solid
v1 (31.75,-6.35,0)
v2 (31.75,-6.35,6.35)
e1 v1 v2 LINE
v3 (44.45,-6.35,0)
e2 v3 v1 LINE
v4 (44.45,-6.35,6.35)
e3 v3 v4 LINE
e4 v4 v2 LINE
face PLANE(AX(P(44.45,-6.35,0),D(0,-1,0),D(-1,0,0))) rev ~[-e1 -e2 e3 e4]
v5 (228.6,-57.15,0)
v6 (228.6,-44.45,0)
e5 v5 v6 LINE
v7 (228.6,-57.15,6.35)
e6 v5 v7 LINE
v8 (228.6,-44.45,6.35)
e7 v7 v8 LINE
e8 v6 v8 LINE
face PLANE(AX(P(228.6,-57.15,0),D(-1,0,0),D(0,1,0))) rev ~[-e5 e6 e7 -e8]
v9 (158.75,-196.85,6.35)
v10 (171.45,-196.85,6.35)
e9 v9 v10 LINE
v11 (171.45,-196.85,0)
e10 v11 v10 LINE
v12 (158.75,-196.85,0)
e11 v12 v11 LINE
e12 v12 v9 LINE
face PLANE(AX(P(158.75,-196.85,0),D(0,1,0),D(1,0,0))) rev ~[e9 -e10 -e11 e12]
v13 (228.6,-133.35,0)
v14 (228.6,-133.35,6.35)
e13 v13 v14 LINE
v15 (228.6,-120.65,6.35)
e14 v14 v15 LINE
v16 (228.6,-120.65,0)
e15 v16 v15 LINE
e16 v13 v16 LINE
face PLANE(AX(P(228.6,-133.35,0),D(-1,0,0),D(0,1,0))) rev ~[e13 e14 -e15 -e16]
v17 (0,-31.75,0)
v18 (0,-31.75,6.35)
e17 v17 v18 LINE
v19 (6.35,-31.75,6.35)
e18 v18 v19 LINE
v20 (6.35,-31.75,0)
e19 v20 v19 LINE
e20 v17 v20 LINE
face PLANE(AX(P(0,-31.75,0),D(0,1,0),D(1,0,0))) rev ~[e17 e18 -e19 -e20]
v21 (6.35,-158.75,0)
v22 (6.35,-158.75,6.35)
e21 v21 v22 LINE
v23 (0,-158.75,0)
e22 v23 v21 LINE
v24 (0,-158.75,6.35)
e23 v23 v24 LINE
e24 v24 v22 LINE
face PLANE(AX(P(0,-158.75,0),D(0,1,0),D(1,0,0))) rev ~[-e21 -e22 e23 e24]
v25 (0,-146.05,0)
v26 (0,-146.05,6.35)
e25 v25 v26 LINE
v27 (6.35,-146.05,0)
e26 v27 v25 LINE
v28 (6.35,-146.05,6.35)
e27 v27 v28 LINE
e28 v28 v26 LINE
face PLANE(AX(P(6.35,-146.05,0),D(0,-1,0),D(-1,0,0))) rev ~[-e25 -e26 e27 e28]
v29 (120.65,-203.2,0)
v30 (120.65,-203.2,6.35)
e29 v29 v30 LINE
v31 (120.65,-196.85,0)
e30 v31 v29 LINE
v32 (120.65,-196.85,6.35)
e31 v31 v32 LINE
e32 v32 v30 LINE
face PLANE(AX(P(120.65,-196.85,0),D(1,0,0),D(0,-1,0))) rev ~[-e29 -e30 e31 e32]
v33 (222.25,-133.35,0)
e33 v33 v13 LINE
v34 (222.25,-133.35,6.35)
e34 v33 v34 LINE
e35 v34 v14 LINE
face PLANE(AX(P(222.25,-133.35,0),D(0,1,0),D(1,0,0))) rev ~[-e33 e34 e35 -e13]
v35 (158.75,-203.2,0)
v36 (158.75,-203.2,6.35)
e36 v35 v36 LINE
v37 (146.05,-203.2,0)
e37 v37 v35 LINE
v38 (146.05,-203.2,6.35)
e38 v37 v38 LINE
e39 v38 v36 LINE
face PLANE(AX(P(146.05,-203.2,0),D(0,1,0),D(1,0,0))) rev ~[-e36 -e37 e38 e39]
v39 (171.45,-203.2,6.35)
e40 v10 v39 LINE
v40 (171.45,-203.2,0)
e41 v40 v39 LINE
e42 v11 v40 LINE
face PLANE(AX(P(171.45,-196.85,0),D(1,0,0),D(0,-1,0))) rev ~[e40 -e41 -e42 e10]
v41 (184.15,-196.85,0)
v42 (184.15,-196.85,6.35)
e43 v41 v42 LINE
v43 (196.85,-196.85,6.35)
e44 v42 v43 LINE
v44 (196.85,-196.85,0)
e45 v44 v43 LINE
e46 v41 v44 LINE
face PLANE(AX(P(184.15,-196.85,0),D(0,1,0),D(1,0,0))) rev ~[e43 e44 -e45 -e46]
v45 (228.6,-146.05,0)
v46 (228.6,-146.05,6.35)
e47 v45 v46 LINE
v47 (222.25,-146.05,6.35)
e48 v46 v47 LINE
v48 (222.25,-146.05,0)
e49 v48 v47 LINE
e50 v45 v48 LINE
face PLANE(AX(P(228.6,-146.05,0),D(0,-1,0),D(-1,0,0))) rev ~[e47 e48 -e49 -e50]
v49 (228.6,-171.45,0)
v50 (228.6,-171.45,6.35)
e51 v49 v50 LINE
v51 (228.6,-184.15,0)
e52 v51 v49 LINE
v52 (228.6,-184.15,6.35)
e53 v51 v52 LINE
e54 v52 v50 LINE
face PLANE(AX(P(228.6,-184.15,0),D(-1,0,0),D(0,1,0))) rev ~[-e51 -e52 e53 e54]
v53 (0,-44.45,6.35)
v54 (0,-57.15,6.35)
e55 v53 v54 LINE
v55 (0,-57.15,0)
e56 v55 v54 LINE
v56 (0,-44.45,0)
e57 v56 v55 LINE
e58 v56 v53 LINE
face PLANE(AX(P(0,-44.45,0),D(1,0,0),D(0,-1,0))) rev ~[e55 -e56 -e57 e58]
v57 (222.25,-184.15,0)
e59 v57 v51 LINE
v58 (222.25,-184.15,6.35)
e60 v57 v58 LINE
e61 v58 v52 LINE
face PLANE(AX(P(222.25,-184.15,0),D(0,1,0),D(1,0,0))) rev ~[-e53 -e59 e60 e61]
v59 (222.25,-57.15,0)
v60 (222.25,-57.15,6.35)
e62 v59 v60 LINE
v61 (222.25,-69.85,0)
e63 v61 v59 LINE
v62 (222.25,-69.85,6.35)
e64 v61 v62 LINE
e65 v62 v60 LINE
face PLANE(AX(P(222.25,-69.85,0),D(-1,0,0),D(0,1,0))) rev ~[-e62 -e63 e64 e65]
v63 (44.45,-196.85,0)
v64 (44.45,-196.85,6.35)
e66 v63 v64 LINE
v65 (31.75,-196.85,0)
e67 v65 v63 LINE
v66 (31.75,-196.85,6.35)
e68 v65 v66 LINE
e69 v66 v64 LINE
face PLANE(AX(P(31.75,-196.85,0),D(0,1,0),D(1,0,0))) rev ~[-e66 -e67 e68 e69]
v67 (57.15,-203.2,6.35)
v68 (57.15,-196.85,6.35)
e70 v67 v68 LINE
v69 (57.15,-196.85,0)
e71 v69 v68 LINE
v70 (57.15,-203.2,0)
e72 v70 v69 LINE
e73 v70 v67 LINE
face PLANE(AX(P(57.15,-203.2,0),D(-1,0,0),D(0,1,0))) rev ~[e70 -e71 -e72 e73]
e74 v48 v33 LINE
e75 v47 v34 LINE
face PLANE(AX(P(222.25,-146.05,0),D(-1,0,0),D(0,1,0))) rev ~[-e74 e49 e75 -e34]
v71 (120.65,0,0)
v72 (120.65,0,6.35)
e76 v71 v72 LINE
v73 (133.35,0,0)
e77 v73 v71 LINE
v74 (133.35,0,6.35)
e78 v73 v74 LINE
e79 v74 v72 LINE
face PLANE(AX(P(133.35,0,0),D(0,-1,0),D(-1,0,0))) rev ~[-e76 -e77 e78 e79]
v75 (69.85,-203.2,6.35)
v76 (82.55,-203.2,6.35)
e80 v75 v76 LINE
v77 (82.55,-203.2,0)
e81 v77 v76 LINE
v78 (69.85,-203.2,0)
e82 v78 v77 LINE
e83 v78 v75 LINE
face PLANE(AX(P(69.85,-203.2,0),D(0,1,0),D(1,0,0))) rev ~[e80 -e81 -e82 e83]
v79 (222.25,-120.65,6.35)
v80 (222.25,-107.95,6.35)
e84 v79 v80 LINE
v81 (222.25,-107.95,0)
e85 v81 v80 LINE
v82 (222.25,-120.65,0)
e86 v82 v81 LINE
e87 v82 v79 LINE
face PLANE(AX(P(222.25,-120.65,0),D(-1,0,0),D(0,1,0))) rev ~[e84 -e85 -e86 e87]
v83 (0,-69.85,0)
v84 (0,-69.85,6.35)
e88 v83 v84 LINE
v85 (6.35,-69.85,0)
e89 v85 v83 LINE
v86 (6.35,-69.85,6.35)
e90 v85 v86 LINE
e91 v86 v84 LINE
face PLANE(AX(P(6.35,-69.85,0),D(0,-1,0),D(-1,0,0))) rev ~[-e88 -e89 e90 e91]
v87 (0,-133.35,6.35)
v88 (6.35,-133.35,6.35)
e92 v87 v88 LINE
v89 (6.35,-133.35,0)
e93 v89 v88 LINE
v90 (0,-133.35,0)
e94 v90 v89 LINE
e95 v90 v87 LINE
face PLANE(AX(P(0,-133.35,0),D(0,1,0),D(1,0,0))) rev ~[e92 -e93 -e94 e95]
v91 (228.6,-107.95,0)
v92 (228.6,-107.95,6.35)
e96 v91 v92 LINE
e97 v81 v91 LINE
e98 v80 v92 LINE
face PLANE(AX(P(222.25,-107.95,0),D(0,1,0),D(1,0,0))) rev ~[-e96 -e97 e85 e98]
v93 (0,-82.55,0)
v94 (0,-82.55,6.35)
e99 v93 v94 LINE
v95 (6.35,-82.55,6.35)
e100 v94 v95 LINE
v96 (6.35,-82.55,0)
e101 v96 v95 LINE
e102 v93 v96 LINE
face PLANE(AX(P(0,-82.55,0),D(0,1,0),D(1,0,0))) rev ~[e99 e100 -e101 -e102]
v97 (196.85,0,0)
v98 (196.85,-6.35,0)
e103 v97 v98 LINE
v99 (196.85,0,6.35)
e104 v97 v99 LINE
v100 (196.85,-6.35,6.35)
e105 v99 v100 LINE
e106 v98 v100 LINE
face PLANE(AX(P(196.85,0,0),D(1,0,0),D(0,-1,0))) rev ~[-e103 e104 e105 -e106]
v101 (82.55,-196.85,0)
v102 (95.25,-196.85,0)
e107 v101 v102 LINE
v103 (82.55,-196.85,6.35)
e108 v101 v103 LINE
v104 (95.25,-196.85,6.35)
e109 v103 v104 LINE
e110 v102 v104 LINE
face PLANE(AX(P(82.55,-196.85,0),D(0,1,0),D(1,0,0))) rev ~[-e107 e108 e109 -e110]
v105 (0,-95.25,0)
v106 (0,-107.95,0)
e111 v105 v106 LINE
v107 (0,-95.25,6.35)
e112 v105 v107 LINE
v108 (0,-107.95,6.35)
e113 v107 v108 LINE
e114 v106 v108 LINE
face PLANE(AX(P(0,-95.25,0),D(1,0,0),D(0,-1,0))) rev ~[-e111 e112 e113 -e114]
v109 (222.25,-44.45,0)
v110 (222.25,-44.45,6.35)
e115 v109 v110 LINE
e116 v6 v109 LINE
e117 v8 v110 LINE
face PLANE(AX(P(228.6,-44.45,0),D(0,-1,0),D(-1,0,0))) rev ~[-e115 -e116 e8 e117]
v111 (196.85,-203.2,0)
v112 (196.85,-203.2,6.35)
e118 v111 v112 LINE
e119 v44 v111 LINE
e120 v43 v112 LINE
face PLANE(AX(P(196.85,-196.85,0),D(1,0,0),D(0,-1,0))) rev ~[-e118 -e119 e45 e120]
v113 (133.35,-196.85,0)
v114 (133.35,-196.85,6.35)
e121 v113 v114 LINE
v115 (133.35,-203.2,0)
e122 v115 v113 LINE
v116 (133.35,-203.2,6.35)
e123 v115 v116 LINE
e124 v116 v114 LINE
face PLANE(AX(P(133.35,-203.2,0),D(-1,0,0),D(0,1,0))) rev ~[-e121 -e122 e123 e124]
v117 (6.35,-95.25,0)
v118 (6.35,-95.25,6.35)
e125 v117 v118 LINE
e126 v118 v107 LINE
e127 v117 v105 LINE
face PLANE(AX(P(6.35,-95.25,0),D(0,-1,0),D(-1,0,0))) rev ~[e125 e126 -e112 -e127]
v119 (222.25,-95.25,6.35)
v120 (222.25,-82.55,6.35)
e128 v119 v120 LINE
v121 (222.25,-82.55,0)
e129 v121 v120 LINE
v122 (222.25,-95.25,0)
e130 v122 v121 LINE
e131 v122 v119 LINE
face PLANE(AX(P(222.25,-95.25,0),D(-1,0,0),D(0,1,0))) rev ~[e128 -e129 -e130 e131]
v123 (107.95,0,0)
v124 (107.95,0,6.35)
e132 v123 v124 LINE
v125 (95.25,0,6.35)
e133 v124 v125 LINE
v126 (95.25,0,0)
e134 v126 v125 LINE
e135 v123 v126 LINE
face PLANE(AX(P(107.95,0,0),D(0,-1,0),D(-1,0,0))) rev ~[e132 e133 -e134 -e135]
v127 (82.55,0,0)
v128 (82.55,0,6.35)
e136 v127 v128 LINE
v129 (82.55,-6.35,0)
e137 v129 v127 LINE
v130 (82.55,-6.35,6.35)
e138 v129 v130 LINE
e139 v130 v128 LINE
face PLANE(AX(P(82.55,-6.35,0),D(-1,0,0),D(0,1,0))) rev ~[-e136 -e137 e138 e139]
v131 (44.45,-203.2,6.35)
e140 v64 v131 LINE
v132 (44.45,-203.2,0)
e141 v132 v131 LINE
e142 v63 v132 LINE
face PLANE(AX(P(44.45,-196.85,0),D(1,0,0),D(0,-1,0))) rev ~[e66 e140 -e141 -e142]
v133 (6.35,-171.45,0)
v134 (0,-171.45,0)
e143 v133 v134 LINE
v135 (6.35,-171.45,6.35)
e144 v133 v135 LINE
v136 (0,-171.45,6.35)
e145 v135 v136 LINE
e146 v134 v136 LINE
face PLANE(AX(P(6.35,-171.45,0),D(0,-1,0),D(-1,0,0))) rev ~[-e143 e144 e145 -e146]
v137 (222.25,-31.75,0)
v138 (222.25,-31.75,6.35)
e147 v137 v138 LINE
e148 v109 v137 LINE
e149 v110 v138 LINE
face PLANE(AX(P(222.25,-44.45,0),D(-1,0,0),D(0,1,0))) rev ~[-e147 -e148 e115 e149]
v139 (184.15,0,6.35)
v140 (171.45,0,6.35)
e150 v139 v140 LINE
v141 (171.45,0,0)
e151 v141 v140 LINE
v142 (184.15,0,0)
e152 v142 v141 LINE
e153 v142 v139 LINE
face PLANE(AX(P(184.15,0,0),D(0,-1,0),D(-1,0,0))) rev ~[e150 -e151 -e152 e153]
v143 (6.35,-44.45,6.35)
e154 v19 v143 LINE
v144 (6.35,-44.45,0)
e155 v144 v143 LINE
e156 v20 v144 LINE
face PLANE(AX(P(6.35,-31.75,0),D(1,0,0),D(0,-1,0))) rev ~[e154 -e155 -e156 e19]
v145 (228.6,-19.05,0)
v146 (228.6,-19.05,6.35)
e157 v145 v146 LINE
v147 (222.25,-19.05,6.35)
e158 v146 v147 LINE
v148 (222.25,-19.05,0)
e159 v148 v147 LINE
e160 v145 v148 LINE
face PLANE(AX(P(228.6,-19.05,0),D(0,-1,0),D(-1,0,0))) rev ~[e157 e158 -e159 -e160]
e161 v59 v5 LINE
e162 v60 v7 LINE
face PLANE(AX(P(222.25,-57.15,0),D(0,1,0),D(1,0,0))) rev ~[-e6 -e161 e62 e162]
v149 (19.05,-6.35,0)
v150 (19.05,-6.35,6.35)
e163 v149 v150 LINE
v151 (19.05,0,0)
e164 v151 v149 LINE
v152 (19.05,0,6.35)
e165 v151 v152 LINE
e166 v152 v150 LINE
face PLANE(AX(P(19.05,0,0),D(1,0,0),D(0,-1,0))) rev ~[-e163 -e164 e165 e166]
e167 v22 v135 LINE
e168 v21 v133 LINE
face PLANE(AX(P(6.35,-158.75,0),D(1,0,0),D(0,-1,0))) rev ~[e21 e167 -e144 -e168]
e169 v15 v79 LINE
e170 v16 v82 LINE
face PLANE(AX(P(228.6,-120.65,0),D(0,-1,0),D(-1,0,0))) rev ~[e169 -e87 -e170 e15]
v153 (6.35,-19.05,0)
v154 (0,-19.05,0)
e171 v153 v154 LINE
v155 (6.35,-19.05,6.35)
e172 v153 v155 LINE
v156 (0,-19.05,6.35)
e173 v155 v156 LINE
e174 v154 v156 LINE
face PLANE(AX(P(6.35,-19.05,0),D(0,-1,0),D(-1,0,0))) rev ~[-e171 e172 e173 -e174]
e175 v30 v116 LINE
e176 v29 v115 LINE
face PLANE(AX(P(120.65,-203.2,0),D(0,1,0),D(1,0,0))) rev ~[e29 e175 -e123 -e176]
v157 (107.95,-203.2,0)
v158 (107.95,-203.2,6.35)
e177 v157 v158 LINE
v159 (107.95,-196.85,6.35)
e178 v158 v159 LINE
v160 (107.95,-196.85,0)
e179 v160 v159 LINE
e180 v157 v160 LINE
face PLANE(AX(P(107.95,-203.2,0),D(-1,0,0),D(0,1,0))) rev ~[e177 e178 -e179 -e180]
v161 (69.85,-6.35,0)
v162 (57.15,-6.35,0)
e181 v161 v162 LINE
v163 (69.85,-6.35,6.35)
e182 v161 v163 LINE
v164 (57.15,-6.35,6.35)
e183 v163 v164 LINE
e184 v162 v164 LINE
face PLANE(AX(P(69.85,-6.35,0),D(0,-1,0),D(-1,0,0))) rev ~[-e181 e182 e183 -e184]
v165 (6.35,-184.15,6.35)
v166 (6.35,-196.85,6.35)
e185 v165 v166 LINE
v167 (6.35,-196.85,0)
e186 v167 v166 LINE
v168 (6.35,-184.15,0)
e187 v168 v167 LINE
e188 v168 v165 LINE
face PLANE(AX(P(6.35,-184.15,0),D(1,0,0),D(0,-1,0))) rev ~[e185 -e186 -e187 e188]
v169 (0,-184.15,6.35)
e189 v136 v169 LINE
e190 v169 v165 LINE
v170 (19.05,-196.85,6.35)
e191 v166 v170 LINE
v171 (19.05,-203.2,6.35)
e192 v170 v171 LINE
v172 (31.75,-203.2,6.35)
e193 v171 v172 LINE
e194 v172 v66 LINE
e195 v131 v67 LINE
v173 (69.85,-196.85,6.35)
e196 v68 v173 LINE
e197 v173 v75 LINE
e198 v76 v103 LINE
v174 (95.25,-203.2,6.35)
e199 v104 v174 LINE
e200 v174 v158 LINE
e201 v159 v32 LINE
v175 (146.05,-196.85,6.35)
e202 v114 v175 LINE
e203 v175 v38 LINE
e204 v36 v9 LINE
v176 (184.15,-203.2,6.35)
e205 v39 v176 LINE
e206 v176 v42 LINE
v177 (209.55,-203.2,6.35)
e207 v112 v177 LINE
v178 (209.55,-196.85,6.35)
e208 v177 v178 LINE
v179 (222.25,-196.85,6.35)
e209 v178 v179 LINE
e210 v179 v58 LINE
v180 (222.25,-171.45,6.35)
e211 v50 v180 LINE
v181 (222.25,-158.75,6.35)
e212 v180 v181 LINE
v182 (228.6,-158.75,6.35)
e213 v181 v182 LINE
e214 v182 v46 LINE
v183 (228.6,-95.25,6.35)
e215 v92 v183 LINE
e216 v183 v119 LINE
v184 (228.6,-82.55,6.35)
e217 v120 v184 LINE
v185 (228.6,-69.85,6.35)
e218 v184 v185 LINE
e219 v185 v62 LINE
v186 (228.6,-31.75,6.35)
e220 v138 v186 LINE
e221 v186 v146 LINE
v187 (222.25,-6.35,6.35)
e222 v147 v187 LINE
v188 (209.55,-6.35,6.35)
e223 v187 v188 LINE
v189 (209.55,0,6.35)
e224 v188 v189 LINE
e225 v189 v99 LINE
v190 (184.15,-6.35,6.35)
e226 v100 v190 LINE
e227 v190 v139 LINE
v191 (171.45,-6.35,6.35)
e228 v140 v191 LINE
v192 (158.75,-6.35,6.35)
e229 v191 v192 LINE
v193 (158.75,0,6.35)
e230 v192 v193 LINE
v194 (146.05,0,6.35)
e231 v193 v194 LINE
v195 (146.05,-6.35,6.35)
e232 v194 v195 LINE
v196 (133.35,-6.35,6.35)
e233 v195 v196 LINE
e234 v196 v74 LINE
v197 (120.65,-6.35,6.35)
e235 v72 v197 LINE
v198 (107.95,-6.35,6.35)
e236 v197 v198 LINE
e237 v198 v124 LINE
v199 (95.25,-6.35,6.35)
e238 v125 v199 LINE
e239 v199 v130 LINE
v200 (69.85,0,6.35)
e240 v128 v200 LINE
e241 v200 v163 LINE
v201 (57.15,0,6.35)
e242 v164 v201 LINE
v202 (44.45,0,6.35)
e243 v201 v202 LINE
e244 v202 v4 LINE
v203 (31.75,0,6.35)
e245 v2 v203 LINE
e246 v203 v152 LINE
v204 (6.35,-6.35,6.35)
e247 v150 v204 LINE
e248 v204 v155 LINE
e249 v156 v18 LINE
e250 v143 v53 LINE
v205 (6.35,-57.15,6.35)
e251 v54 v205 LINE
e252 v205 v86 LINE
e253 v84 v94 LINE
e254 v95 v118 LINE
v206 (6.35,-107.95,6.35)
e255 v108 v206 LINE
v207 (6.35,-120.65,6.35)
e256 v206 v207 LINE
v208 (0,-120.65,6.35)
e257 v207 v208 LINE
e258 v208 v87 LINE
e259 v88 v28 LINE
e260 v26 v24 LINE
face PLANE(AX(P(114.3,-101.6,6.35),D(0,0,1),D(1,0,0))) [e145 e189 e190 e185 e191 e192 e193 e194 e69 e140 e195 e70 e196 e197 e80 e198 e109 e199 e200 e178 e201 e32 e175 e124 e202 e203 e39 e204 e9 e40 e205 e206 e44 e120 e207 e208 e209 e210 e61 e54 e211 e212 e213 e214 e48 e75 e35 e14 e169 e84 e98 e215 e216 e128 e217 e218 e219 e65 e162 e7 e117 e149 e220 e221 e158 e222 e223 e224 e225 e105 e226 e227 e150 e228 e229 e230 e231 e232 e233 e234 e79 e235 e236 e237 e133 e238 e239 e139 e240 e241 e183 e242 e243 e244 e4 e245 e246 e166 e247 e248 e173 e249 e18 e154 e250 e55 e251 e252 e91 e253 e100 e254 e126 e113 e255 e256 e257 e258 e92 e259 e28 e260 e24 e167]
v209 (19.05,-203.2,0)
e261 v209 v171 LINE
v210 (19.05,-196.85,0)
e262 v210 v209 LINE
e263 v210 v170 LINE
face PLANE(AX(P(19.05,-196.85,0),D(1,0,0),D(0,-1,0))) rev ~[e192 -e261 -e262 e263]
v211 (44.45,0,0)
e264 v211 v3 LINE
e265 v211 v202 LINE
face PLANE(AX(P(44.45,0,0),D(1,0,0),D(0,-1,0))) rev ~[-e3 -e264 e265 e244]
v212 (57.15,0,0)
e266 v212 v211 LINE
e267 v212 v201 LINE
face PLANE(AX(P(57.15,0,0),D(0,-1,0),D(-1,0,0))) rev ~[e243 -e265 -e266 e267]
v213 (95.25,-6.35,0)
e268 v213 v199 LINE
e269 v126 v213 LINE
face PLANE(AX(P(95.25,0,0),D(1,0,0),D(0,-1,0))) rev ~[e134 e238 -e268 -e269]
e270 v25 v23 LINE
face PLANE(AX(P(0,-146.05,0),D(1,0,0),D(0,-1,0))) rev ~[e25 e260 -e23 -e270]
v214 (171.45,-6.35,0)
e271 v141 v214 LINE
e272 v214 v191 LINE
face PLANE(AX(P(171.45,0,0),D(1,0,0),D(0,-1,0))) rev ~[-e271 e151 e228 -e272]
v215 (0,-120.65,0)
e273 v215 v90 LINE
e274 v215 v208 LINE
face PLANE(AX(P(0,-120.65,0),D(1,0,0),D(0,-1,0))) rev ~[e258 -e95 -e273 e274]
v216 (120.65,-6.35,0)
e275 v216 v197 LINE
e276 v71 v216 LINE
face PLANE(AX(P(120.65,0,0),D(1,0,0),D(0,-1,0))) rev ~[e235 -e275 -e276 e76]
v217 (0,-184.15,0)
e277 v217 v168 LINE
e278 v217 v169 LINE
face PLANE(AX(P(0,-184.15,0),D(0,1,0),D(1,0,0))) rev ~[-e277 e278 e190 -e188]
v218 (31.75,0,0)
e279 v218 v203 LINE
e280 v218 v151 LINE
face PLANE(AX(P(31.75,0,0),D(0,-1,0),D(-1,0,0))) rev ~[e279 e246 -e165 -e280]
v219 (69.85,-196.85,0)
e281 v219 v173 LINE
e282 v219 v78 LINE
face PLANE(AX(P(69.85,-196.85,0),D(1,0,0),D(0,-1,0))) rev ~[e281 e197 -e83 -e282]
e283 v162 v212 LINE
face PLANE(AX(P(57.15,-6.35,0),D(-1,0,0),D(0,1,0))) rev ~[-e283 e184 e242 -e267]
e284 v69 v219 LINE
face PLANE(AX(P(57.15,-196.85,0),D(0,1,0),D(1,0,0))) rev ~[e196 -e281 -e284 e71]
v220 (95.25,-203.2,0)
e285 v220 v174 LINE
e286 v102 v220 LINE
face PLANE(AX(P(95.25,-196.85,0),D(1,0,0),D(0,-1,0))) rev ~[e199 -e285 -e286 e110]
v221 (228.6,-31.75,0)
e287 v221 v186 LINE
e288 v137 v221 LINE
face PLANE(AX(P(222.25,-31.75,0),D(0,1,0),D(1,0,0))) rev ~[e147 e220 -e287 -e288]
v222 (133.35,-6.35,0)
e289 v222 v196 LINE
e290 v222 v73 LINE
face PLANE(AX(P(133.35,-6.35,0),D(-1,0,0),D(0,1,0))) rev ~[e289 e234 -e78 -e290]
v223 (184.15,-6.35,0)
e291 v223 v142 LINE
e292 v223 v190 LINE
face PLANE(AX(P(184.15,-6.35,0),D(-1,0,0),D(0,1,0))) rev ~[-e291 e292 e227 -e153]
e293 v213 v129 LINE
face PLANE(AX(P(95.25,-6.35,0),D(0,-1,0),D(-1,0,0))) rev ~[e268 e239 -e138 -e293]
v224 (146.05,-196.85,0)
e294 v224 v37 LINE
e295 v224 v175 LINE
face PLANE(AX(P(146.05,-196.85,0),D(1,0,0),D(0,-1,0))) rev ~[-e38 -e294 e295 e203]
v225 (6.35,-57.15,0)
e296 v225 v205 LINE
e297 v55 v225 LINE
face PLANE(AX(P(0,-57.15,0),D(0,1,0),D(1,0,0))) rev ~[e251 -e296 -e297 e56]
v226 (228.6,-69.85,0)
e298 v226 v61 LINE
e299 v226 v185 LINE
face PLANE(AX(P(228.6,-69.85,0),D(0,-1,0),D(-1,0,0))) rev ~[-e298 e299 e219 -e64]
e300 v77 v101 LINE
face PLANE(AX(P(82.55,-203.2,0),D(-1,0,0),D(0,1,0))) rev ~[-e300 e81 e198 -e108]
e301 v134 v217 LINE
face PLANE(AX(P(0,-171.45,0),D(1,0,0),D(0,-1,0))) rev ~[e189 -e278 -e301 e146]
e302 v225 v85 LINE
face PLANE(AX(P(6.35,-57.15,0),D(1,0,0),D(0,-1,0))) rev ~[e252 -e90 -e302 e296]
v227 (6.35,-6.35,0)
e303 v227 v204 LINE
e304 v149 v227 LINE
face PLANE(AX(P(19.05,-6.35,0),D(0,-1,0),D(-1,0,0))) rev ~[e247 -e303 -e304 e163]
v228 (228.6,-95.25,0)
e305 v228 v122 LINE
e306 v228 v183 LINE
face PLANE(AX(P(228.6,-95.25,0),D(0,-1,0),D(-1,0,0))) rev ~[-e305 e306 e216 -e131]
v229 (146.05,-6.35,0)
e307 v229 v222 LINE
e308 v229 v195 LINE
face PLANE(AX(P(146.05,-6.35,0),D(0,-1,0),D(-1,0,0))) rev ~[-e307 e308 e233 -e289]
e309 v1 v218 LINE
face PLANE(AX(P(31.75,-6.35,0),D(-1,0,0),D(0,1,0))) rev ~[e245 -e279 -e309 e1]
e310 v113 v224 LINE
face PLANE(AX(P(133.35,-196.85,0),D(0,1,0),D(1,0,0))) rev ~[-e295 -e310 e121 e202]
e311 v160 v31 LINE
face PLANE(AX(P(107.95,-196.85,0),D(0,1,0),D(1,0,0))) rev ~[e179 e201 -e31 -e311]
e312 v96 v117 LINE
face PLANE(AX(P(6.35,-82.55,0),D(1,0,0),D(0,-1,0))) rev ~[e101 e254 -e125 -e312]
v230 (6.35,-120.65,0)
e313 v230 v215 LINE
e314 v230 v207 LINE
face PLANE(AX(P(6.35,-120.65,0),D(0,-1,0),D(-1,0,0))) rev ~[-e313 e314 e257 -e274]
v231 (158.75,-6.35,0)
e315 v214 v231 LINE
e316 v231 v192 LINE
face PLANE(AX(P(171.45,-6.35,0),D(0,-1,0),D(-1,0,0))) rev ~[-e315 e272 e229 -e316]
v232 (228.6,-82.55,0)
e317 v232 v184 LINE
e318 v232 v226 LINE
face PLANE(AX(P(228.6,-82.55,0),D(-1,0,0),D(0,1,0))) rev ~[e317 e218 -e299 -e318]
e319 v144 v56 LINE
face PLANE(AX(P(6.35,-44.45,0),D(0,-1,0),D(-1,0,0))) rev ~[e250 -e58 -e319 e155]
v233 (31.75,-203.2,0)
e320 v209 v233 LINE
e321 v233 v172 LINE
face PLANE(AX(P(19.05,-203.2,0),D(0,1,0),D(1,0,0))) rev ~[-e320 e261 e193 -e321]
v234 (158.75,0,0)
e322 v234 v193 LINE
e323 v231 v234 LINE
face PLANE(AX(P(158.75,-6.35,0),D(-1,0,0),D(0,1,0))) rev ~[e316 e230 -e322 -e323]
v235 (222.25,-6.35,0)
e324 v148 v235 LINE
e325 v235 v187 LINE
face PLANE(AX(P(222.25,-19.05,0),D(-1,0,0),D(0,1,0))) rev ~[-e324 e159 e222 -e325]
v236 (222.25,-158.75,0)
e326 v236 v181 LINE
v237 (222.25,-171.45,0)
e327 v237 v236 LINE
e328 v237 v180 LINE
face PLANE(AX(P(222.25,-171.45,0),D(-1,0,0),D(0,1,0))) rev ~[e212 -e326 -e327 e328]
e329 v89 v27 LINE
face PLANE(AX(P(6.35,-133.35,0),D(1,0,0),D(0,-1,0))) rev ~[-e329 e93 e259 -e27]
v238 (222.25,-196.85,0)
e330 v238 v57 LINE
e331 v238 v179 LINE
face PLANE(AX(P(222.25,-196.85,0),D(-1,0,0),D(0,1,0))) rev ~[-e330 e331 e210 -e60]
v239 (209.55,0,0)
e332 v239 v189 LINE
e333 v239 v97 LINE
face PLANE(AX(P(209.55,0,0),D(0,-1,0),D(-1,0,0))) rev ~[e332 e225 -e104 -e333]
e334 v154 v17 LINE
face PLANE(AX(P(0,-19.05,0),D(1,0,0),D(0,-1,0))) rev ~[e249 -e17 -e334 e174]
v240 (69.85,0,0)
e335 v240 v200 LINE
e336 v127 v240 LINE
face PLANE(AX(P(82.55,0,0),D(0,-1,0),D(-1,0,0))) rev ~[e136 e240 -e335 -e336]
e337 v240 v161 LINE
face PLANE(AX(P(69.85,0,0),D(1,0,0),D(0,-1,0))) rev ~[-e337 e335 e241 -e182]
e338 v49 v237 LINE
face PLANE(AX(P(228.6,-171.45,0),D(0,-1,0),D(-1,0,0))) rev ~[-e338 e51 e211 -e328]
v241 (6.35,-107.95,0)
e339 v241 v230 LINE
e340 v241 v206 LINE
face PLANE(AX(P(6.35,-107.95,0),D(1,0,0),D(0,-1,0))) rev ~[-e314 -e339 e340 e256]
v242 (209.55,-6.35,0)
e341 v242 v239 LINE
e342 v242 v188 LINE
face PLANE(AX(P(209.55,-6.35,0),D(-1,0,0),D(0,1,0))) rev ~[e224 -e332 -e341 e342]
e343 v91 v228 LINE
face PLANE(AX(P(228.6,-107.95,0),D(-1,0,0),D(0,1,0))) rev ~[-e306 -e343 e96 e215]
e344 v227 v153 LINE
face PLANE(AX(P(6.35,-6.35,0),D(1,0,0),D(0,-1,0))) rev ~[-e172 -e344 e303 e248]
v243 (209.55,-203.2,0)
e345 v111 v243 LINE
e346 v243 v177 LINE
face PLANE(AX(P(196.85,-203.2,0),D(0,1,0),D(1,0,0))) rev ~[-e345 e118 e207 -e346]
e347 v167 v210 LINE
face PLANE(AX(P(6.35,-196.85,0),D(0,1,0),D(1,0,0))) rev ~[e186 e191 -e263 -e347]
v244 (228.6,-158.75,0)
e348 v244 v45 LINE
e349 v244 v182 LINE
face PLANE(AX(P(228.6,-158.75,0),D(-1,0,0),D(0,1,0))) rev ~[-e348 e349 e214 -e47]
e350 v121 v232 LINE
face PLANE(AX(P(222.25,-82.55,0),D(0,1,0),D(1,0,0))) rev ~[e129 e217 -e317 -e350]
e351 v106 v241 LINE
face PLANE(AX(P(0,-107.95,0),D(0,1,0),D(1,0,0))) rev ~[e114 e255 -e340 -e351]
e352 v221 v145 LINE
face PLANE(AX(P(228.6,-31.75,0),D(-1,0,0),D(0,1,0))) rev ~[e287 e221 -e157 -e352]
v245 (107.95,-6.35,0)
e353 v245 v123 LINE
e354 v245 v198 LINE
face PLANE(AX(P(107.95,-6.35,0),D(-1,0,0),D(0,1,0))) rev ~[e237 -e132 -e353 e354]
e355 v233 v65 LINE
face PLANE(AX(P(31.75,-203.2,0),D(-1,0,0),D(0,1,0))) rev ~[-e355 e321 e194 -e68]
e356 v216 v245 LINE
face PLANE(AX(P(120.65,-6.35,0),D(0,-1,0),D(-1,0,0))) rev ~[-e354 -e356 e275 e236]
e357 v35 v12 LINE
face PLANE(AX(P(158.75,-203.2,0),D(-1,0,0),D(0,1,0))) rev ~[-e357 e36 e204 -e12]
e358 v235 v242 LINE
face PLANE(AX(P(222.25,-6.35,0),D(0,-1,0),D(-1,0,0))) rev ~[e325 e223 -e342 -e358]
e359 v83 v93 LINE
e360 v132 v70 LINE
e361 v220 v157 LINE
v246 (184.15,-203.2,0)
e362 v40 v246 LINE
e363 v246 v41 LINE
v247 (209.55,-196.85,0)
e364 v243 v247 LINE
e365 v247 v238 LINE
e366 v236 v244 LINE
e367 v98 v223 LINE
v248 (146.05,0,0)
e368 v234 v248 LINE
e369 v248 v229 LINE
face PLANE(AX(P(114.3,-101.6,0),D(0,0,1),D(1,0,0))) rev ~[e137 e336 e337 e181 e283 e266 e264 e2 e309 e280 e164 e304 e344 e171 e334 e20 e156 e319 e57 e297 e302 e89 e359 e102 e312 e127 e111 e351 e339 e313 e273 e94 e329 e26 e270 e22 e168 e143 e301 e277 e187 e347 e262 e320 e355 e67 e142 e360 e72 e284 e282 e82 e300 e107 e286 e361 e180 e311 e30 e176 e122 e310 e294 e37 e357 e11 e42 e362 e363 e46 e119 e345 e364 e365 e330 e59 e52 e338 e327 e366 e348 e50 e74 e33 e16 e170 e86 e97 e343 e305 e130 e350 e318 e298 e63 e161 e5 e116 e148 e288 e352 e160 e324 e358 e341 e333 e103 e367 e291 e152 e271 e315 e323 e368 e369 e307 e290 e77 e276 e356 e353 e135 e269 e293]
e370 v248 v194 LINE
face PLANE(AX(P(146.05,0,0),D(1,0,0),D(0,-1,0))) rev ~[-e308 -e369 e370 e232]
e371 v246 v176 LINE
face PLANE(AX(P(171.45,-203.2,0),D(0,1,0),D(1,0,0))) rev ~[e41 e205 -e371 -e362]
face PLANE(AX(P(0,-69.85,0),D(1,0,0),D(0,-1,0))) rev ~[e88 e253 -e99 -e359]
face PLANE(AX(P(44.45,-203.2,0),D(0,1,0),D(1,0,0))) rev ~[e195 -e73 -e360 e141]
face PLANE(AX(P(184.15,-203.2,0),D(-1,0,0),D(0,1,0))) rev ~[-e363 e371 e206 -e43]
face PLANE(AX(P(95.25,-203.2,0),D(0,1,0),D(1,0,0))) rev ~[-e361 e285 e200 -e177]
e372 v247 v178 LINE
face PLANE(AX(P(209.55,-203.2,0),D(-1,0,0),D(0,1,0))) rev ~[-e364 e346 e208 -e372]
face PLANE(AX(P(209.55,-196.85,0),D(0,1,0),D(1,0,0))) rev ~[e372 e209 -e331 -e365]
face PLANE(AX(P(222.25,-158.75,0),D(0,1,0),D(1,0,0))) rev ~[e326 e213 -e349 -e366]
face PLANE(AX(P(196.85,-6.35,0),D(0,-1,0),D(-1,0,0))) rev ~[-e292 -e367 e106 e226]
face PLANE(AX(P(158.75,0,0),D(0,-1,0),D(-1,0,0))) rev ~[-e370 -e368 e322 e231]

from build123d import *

# Parameters (mm, degrees)
F1_DEPTH = 6.35


with BuildPart() as f1:
    # F0 (on Top) → F1 (new body)
    with BuildSketch(Plane.XY):
        Polygon((19.05, -6.35), (6.35, -6.35), (6.35, -19.05), (0, -19.05), (0, -31.75), (6.35, -31.75), (6.35, -44.45), (0, -44.45), (0, -57.15), (6.35, -57.15), (6.35, -69.85), (0, -69.85), (0, -82.55), (6.35, -82.55), (6.35, -95.25), (0, -95.25), (0, -107.95), (6.35, -107.95), (6.35, -120.65), (0, -120.65), (0, -133.35), (6.35, -133.35), (6.35, -146.05), (0, -146.05), (0, -158.75), (6.35, -158.75), (6.35, -171.45), (0, -171.45), (0, -184.15), (6.35, -184.15), (6.35, -196.85), (19.05, -196.85), (19.05, -203.2), (31.75, -203.2), (31.75, -196.85), (44.45, -196.85), (44.45, -203.2), (57.15, -203.2), (57.15, -196.85), (69.85, -196.85), (69.85, -203.2), (82.55, -203.2), (82.55, -196.85), (95.25, -196.85), (95.25, -203.2), (107.95, -203.2), (107.95, -196.85), (120.65, -196.85), (120.65, -203.2), (133.35, -203.2), (133.35, -196.85), (146.05, -196.85), (146.05, -203.2), (158.75, -203.2), (158.75, -196.85), (171.45, -196.85), (171.45, -203.2), (184.15, -203.2), (184.15, -196.85), (196.85, -196.85), (196.85, -203.2), (209.55, -203.2), (209.55, -196.85), (222.25, -196.85), (222.25, -184.15), (228.6, -184.15), (228.6, -171.45), (222.25, -171.45), (222.25, -158.75), (228.6, -158.75), (228.6, -146.05), (222.25, -146.05), (222.25, -133.35), (228.6, -133.35), (228.6, -120.65), (222.25, -120.65), (222.25, -107.95), (228.6, -107.95), (228.6, -95.25), (222.25, -95.25), (222.25, -82.55), (228.6, -82.55), (228.6, -69.85), (222.25, -69.85), (222.25, -57.15), (228.6, -57.15), (228.6, -44.45), (222.25, -44.45), (222.25, -31.75), (228.6, -31.75), (228.6, -19.05), (222.25, -19.05), (222.25, -6.35), (209.55, -6.35), (209.55, 0), (196.85, 0), (196.85, -6.35), (184.15, -6.35), (184.15, 0), (171.45, 0), (171.45, -6.35), (158.75, -6.35), (158.75, 0), (146.05, 0), (146.05, -6.35), (133.35, -6.35), (133.35, 0), (120.65, 0), (120.65, -6.35), (107.95, -6.35), (107.95, 0), (95.25, 0), (95.25, -6.35), (82.55, -6.35), (82.55, 0), (69.85, 0), (69.85, -6.35), (57.15, -6.35), (57.15, 0), (44.45, 0), (44.45, -6.35), (31.75, -6.35), (31.75, 0), (19.05, 0), align=None)
    extrude(amount=F1_DEPTH)


solid = f1.part
